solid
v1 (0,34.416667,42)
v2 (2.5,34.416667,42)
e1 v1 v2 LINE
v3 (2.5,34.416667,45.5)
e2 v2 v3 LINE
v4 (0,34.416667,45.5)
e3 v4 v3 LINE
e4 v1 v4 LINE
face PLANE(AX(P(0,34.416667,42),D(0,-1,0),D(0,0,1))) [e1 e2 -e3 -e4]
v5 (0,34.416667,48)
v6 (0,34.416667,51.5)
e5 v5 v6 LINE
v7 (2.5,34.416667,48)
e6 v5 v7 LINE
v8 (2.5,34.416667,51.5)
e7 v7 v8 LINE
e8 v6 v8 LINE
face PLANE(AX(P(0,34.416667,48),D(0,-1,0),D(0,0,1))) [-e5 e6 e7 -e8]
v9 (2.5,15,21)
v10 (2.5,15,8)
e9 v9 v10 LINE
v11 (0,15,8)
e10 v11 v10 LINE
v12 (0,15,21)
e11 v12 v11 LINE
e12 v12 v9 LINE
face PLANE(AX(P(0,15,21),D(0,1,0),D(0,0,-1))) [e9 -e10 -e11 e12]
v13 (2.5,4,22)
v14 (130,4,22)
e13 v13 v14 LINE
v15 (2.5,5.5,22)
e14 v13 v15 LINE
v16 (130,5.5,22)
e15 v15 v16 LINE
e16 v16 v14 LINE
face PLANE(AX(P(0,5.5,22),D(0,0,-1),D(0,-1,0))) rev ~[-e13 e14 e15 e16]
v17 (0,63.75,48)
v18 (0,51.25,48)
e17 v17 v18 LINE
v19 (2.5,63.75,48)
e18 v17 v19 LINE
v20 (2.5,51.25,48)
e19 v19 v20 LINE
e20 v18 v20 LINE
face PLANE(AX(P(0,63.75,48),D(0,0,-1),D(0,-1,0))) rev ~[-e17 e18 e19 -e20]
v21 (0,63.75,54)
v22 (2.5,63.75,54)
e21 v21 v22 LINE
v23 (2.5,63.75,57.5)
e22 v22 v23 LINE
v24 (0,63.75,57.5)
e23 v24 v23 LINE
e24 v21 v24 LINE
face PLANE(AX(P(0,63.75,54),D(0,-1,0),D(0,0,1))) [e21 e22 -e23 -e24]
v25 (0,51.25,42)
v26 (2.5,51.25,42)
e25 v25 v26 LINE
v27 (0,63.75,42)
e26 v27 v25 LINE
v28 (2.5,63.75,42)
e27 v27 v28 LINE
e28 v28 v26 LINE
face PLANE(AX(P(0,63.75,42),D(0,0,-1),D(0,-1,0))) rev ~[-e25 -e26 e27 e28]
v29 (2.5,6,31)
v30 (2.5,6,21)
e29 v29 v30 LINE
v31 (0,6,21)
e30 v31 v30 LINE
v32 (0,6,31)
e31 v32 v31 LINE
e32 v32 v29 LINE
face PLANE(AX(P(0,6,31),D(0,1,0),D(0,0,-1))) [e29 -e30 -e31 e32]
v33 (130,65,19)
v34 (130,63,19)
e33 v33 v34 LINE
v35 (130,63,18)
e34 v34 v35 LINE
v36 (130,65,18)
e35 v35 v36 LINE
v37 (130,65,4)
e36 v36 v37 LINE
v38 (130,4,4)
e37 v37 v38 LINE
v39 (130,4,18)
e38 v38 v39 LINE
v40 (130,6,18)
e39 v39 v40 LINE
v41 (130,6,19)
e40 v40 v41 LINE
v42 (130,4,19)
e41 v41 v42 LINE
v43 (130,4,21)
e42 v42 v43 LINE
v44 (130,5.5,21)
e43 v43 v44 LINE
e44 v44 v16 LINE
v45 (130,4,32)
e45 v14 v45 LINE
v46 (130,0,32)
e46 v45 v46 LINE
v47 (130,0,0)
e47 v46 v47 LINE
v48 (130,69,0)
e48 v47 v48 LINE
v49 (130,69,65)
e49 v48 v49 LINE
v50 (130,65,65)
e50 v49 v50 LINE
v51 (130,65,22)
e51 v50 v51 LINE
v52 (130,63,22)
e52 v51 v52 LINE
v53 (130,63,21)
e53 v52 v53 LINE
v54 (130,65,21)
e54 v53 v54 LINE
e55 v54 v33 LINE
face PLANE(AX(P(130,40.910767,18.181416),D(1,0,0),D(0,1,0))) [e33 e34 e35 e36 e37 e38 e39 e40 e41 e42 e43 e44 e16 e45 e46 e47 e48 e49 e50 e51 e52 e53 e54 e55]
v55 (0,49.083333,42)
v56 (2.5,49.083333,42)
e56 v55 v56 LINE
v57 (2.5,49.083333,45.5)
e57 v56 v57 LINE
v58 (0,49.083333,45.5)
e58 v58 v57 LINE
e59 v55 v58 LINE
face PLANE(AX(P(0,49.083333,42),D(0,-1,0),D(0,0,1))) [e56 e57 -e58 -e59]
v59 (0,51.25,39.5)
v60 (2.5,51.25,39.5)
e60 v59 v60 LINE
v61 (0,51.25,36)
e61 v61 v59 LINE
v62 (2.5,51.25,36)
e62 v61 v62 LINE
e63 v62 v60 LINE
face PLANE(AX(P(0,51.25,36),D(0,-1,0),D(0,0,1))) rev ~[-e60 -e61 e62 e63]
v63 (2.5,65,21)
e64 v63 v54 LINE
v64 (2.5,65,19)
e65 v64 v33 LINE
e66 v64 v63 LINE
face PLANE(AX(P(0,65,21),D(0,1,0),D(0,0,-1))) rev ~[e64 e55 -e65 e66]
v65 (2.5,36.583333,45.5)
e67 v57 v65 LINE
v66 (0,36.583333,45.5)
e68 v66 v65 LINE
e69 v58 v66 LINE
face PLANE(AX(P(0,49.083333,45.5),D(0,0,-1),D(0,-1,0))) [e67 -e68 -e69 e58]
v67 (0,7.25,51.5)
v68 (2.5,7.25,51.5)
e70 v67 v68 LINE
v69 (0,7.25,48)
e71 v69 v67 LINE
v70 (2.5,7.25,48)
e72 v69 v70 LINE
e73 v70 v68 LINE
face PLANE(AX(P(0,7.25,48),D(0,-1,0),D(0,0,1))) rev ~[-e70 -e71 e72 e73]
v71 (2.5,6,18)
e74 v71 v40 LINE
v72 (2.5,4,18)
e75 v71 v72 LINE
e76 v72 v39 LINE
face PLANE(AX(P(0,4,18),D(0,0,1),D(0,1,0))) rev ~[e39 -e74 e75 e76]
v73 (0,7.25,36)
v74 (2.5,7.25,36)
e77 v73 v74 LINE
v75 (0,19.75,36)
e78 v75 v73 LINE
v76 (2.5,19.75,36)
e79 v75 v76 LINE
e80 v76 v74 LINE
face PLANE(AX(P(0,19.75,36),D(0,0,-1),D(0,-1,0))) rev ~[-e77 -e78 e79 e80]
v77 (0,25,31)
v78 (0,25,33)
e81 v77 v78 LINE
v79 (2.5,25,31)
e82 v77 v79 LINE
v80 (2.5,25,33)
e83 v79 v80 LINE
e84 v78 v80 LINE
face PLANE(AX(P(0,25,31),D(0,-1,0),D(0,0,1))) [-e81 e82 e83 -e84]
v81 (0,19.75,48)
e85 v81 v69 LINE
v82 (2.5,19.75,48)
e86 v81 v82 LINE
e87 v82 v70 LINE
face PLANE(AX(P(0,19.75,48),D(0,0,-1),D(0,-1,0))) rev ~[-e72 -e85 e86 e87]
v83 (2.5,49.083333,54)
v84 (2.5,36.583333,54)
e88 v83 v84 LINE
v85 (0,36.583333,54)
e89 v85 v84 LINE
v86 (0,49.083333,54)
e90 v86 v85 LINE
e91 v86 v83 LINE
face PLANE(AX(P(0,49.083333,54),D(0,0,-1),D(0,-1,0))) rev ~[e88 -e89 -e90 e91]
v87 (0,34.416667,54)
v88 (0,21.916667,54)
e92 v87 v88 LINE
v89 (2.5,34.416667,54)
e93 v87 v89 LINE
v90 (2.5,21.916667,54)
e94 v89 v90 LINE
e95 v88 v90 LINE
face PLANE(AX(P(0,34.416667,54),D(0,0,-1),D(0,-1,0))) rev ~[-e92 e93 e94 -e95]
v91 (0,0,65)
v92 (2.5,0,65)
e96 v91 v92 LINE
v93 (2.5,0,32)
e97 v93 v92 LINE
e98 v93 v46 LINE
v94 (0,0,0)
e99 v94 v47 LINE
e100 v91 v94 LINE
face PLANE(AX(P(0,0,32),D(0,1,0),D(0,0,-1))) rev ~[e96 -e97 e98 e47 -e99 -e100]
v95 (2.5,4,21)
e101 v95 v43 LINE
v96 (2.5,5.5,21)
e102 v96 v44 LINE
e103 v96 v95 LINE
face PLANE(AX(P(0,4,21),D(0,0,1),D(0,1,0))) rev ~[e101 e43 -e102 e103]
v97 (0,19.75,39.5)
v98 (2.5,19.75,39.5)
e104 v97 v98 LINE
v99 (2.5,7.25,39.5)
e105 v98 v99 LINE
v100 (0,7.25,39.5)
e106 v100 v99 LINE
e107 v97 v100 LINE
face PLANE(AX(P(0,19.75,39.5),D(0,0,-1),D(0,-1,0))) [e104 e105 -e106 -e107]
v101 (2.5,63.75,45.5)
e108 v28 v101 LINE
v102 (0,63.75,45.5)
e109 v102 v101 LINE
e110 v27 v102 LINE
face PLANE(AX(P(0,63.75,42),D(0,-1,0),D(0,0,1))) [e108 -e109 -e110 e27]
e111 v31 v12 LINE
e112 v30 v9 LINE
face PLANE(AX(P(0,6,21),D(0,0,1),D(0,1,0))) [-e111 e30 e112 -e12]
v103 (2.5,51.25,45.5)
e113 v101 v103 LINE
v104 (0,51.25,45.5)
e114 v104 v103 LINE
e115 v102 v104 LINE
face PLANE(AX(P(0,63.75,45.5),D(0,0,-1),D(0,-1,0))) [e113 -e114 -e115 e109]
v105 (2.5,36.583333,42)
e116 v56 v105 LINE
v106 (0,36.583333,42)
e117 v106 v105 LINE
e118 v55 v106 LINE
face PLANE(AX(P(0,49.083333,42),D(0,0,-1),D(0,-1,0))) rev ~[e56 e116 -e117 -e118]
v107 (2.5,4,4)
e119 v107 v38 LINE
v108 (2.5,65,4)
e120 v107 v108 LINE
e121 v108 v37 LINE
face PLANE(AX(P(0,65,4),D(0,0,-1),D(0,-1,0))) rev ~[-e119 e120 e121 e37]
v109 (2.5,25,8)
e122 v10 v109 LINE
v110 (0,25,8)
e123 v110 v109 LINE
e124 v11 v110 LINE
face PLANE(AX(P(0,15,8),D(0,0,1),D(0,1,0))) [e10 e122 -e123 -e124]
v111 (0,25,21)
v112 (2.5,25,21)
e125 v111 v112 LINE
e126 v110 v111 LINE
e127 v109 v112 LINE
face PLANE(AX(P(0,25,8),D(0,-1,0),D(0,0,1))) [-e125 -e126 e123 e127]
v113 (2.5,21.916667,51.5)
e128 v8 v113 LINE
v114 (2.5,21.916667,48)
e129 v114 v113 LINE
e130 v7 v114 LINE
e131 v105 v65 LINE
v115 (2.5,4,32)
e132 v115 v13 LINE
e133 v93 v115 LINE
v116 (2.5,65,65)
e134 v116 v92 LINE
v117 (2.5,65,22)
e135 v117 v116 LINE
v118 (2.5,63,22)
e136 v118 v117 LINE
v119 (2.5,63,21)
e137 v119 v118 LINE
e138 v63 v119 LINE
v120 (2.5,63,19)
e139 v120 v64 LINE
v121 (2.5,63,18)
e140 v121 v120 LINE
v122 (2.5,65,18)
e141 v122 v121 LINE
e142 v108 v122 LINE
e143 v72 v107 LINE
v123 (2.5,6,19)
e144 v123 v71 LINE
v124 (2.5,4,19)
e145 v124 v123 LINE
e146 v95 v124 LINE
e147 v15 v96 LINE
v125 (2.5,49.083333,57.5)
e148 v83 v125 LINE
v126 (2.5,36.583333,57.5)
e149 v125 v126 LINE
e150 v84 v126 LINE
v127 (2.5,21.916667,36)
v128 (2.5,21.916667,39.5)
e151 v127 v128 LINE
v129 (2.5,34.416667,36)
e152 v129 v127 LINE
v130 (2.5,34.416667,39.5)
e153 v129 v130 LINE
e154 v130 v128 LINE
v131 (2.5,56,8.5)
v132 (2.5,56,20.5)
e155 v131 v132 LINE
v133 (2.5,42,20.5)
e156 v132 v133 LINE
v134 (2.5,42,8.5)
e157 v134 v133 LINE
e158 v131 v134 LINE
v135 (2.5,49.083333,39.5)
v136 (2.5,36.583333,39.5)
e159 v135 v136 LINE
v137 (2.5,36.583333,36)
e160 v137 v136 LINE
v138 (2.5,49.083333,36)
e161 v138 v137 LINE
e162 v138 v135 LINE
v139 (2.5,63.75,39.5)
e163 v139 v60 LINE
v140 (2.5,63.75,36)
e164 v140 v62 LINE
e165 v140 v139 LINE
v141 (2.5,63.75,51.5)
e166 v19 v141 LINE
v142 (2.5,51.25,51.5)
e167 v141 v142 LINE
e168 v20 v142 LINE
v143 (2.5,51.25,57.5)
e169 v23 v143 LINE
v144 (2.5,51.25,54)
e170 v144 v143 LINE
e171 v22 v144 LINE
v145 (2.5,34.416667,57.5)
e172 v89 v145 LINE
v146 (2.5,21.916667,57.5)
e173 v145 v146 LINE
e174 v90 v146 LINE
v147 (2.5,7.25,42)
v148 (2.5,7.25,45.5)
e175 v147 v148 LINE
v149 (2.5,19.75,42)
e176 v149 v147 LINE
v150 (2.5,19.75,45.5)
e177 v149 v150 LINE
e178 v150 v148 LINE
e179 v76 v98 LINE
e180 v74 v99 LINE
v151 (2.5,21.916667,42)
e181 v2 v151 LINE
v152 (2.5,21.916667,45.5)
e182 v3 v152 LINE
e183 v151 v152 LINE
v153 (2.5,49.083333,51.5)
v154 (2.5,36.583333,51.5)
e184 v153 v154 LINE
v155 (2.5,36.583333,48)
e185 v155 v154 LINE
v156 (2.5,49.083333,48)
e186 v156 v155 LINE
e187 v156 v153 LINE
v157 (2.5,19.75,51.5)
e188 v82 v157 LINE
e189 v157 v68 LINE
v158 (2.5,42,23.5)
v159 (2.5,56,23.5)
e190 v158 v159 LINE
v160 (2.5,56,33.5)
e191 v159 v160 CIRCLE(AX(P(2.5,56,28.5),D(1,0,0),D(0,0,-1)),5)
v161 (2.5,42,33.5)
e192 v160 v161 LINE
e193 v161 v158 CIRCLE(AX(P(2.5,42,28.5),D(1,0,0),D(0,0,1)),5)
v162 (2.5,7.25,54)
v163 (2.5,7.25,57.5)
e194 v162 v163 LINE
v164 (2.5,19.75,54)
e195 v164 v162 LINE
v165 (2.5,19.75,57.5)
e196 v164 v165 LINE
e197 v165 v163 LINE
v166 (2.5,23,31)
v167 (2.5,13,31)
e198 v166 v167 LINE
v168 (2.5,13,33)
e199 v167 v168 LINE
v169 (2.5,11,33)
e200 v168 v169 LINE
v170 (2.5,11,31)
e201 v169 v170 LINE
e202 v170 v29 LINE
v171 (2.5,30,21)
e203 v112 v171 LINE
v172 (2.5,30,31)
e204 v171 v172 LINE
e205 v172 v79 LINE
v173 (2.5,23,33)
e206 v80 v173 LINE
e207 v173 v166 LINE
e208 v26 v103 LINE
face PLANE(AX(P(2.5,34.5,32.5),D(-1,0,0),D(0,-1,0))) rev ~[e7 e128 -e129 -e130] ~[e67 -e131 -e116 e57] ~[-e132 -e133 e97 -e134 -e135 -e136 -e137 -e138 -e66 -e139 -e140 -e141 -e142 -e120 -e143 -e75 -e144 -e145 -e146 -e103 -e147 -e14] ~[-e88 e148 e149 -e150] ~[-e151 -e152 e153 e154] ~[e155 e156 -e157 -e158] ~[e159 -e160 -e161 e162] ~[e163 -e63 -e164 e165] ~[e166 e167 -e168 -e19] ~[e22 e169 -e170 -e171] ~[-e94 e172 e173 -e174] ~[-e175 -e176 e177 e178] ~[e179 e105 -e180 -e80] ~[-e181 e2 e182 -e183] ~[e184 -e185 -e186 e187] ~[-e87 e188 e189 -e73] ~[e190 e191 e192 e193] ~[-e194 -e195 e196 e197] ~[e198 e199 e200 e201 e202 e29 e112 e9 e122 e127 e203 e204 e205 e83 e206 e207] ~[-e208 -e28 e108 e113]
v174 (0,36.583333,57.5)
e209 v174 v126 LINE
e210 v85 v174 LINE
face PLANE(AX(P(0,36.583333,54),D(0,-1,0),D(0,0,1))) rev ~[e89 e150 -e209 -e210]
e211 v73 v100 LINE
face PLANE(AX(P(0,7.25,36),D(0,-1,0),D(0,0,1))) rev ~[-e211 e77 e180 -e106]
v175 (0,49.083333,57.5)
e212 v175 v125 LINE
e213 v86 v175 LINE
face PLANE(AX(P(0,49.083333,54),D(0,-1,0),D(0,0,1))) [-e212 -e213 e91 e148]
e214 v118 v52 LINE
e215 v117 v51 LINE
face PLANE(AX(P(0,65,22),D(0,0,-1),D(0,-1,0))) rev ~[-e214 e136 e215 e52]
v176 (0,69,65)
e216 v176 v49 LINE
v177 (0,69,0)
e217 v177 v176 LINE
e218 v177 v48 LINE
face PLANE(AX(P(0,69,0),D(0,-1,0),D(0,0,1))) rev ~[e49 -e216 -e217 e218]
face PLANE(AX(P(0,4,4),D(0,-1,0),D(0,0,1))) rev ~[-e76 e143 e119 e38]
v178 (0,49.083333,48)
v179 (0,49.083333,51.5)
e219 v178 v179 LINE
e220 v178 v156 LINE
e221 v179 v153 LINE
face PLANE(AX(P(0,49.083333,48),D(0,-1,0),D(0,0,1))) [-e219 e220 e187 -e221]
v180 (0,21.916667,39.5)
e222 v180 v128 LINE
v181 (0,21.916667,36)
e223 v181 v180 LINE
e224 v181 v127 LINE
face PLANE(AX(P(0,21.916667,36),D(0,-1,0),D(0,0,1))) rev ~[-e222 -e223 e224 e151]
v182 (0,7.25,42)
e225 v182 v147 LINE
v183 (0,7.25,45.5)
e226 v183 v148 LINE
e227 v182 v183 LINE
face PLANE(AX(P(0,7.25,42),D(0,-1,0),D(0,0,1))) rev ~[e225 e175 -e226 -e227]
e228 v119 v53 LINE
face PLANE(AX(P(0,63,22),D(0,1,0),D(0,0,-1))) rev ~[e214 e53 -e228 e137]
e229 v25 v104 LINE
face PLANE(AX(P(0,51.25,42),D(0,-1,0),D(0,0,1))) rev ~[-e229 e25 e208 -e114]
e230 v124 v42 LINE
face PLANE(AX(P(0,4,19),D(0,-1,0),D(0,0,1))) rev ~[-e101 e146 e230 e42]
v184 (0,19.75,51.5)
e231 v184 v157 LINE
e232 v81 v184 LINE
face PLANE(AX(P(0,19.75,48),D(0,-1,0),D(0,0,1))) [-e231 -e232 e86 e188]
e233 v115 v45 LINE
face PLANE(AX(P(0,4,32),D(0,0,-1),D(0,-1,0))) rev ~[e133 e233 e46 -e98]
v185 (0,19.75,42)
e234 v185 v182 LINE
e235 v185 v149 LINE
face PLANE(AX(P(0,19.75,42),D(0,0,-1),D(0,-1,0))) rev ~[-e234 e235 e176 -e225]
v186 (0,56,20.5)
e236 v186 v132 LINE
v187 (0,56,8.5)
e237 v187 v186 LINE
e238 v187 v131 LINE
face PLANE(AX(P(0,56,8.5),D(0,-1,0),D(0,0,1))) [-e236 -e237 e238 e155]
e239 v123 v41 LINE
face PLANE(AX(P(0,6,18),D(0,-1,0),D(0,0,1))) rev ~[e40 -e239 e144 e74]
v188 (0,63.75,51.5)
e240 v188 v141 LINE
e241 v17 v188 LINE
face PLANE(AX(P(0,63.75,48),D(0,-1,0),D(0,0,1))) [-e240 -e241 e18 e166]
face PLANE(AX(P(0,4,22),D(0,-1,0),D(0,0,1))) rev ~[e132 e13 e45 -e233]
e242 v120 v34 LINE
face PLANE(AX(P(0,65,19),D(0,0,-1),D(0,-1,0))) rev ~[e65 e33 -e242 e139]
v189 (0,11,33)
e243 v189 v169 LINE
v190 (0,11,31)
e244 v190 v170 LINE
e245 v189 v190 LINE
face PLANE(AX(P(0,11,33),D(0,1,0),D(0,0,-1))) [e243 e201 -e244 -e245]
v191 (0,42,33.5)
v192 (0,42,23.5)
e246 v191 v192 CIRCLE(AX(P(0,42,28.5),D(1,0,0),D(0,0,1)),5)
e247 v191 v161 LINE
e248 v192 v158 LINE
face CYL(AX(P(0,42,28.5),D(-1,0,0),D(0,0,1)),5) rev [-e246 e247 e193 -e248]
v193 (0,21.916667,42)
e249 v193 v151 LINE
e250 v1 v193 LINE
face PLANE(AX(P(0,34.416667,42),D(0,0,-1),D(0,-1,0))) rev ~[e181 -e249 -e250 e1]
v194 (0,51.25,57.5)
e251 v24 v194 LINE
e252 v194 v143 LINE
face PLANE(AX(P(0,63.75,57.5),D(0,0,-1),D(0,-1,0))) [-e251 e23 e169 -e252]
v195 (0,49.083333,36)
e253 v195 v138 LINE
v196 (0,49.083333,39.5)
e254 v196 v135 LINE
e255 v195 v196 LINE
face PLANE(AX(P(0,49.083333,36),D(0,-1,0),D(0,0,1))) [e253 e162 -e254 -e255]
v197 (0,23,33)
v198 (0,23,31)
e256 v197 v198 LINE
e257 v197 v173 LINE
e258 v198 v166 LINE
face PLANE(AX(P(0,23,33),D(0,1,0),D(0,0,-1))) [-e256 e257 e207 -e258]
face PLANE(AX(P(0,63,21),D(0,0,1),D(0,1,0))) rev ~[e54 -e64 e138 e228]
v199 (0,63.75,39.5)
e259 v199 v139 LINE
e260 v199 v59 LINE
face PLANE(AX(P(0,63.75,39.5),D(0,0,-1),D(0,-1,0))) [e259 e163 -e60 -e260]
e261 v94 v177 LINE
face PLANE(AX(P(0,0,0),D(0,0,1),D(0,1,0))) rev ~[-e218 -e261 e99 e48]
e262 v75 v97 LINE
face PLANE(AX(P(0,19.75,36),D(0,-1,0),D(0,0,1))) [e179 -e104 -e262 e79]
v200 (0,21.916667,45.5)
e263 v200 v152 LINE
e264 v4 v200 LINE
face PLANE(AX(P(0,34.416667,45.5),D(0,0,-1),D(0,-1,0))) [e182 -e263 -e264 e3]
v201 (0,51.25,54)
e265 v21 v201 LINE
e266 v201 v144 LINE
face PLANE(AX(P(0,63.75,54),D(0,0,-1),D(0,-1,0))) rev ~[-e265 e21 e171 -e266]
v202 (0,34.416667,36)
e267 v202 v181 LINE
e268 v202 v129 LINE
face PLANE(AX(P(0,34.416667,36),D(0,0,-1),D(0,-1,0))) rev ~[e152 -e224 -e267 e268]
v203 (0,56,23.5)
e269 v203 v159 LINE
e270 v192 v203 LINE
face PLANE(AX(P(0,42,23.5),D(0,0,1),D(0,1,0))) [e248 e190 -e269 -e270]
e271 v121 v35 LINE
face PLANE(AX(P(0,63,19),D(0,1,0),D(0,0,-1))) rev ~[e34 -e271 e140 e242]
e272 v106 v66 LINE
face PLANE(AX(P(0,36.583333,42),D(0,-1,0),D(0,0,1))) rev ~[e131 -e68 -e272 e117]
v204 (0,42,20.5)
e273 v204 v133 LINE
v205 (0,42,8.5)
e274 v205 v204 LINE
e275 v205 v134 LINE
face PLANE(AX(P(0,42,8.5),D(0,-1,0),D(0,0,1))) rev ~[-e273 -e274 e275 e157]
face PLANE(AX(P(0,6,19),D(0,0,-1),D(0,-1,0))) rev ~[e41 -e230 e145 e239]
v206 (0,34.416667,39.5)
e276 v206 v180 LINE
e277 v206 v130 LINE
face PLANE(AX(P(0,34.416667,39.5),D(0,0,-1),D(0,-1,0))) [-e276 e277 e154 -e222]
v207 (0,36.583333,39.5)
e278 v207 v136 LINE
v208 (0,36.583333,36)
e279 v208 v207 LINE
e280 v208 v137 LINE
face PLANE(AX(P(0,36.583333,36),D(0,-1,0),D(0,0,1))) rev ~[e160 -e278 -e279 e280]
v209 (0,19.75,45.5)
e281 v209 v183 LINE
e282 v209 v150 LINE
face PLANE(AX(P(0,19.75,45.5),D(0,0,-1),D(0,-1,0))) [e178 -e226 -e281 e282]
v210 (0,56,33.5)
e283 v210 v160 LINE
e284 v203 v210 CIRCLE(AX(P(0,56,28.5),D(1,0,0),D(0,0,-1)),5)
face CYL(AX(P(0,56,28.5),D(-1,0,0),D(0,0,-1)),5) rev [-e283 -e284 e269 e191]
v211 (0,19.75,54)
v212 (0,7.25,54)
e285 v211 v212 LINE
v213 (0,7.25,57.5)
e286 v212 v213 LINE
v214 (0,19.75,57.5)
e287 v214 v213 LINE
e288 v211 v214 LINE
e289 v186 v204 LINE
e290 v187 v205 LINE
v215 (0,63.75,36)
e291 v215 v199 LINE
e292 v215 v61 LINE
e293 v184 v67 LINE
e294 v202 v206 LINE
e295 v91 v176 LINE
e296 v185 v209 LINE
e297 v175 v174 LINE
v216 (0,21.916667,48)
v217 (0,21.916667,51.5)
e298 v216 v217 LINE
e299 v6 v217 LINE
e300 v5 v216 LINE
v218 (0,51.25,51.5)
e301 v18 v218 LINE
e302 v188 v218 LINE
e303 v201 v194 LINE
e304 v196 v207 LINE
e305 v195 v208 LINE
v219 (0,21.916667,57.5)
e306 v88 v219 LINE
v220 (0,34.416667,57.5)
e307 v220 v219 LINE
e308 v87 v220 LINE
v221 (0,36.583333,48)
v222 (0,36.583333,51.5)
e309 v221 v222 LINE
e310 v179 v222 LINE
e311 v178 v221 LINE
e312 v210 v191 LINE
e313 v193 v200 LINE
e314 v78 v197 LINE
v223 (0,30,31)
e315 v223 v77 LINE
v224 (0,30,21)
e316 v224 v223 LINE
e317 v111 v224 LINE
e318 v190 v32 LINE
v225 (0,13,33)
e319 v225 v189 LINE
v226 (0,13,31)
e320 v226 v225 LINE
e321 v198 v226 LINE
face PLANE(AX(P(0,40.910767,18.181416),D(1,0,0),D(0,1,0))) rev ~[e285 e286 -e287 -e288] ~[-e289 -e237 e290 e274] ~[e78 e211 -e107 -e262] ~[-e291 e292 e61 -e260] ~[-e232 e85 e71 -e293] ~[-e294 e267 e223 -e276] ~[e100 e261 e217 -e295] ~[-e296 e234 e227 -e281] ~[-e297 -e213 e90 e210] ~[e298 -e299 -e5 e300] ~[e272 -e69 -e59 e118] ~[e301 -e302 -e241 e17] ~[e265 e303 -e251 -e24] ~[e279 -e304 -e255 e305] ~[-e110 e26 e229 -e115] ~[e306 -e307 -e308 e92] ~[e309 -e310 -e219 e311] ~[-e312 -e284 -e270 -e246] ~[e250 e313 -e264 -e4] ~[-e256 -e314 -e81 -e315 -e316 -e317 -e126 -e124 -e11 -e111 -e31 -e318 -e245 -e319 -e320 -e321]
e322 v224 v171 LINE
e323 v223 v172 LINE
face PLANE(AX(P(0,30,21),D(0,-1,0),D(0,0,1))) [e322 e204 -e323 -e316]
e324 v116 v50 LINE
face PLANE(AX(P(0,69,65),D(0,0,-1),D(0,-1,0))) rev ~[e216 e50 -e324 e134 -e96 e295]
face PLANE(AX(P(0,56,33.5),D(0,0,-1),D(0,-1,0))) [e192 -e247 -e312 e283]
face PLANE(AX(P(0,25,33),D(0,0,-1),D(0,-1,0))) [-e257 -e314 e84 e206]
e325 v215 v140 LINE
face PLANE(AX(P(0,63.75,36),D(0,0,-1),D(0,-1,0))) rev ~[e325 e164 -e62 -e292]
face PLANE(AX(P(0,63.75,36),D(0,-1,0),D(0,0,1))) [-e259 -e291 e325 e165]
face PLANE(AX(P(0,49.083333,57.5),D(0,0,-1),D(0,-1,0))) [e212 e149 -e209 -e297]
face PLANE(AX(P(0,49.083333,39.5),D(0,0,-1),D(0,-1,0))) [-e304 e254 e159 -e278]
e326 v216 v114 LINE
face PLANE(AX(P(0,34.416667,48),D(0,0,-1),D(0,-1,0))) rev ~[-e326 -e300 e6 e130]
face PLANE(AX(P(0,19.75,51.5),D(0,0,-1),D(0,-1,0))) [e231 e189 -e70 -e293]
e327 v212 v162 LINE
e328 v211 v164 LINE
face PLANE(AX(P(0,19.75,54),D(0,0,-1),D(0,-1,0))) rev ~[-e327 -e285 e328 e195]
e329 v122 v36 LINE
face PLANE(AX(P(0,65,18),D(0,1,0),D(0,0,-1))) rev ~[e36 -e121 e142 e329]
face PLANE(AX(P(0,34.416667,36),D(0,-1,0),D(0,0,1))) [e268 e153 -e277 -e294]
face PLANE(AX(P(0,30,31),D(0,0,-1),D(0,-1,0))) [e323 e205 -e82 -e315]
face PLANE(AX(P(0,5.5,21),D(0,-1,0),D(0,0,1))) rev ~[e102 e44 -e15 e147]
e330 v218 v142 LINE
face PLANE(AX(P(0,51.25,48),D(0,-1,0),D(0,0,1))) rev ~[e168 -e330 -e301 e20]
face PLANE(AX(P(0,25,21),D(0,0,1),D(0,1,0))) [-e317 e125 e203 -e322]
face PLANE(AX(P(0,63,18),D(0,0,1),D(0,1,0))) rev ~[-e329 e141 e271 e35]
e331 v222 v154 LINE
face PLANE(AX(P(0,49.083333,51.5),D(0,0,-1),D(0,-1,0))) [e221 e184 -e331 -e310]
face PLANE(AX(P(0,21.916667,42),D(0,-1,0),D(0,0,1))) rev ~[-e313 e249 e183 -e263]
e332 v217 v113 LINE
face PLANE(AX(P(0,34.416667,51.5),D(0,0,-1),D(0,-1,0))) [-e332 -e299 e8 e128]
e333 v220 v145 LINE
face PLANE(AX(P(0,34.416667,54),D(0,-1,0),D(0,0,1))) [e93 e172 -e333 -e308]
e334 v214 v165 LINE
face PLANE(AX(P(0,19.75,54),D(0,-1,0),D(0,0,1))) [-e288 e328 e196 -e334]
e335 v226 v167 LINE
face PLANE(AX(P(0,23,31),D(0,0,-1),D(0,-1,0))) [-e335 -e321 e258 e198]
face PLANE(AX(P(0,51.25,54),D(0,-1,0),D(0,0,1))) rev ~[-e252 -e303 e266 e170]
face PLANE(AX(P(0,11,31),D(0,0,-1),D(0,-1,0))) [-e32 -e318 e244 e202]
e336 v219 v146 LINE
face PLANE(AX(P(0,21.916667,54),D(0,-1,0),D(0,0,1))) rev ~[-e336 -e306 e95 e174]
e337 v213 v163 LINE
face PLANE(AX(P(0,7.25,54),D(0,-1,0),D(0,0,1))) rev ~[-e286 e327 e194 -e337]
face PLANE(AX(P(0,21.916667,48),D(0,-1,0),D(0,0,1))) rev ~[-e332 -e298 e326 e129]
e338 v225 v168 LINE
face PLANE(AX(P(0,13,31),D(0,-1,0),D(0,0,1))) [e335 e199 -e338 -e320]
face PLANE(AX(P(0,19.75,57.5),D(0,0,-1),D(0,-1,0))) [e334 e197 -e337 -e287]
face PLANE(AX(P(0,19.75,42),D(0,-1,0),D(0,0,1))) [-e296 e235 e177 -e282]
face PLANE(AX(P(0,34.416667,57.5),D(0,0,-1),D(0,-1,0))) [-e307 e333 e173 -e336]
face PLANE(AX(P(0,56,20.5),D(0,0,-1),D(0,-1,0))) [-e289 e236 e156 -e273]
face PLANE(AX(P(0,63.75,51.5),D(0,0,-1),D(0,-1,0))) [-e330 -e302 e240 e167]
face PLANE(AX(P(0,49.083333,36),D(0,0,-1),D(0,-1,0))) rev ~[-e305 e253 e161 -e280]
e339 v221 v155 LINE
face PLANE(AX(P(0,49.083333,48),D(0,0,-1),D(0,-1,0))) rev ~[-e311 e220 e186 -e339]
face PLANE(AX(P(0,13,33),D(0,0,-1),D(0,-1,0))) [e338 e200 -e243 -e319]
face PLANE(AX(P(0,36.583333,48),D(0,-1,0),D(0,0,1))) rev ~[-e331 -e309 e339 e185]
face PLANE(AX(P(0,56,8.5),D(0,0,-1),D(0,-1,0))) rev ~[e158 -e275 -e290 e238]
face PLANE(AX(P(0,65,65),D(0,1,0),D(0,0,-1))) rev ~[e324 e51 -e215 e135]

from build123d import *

# Parameters (mm, degrees)
F1_DEPTH = 130
F2_W     = 69
F2_H     = 65
F2_W_2   = 14
F2_H_2   = 12
F2_W_3   = 12.5
F2_H_3   = 3.5
F3_DEPTH = 2.5


with BuildPart() as f1:
    # F0 (on Right) → F1 (new body)
    with BuildSketch(Plane.YZ):
        Polygon((0, 32), (0, 0), (69, 0), (69, 65), (65, 65), (65, 22), (63, 22), (63, 21), (65, 21), (65, 19), (63, 19), (63, 18), (65, 18), (65, 4), (4, 4), (4, 18), (6, 18), (6, 19), (4, 19), (4, 21), (5.5, 21), (5.5, 22), (4, 22), (4, 32), align=None)
    extrude(amount=F1_DEPTH)

    # F2 (on face) → F3 (join)
    with BuildSketch(Plane(origin=(0, 0, 0), x_dir=(0, -1, 0), z_dir=(-1, 0, 0))):
        with Locations((-34.5, 32.5)):
            Rectangle(F2_W, F2_H)
        with Locations((-49, 14.5)):
            Rectangle(F2_W_2, F2_H_2, mode=Mode.SUBTRACT)
        with BuildLine():
            Line((-42, 23.5), (-56, 23.5))
            ThreePointArc((-56, 23.5), (-61, 28.5), (-56, 33.5))
            Line((-56, 33.5), (-42, 33.5))
            ThreePointArc((-42, 33.5), (-37, 28.5), (-42, 23.5))
        make_face(mode=Mode.SUBTRACT)
        Polygon((-11, 31), (-6, 31), (-6, 21), (-15, 21), (-15, 8), (-25, 8), (-25, 21), (-30, 21), (-30, 31), (-25, 31), (-25, 33), (-23, 33), (-23, 31), (-13, 31), (-13, 33), (-11, 33), align=None, mode=Mode.SUBTRACT)
        with Locations((-57.5, 37.75)):
            Rectangle(F2_W_3, F2_H_3, mode=Mode.SUBTRACT)
        with Locations((-57.5, 43.75)):
            Rectangle(F2_W_3, F2_H_3, mode=Mode.SUBTRACT)
        with Locations((-42.833333, 37.75)):
            Rectangle(F2_W_3, F2_H_3, mode=Mode.SUBTRACT)
        with Locations((-42.833333, 43.75)):
            Rectangle(F2_W_3, F2_H_3, mode=Mode.SUBTRACT)
        with Locations((-57.5, 49.75)):
            Rectangle(F2_W_3, F2_H_3, mode=Mode.SUBTRACT)
        with Locations((-57.5, 55.75)):
            Rectangle(F2_W_3, F2_H_3, mode=Mode.SUBTRACT)
        with Locations((-42.833333, 49.75)):
            Rectangle(F2_W_3, F2_H_3, mode=Mode.SUBTRACT)
        with Locations((-42.833333, 55.75)):
            Rectangle(F2_W_3, F2_H_3, mode=Mode.SUBTRACT)
        with Locations((-28.166667, 37.75)):
            Rectangle(F2_W_3, F2_H_3, mode=Mode.SUBTRACT)
        with Locations((-28.166667, 43.75)):
            Rectangle(F2_W_3, F2_H_3, mode=Mode.SUBTRACT)
        with Locations((-13.5, 37.75)):
            Rectangle(F2_W_3, F2_H_3, mode=Mode.SUBTRACT)
        with Locations((-13.5, 43.75)):
            Rectangle(F2_W_3, F2_H_3, mode=Mode.SUBTRACT)
        with Locations((-28.166667, 49.75)):
            Rectangle(F2_W_3, F2_H_3, mode=Mode.SUBTRACT)
        with Locations((-28.166667, 55.75)):
            Rectangle(F2_W_3, F2_H_3, mode=Mode.SUBTRACT)
        with Locations((-13.5, 49.75)):
            Rectangle(F2_W_3, F2_H_3, mode=Mode.SUBTRACT)
        with Locations((-13.5, 55.75)):
            Rectangle(F2_W_3, F2_H_3, mode=Mode.SUBTRACT)
    extrude(amount=-F3_DEPTH)


solid = f1.part
